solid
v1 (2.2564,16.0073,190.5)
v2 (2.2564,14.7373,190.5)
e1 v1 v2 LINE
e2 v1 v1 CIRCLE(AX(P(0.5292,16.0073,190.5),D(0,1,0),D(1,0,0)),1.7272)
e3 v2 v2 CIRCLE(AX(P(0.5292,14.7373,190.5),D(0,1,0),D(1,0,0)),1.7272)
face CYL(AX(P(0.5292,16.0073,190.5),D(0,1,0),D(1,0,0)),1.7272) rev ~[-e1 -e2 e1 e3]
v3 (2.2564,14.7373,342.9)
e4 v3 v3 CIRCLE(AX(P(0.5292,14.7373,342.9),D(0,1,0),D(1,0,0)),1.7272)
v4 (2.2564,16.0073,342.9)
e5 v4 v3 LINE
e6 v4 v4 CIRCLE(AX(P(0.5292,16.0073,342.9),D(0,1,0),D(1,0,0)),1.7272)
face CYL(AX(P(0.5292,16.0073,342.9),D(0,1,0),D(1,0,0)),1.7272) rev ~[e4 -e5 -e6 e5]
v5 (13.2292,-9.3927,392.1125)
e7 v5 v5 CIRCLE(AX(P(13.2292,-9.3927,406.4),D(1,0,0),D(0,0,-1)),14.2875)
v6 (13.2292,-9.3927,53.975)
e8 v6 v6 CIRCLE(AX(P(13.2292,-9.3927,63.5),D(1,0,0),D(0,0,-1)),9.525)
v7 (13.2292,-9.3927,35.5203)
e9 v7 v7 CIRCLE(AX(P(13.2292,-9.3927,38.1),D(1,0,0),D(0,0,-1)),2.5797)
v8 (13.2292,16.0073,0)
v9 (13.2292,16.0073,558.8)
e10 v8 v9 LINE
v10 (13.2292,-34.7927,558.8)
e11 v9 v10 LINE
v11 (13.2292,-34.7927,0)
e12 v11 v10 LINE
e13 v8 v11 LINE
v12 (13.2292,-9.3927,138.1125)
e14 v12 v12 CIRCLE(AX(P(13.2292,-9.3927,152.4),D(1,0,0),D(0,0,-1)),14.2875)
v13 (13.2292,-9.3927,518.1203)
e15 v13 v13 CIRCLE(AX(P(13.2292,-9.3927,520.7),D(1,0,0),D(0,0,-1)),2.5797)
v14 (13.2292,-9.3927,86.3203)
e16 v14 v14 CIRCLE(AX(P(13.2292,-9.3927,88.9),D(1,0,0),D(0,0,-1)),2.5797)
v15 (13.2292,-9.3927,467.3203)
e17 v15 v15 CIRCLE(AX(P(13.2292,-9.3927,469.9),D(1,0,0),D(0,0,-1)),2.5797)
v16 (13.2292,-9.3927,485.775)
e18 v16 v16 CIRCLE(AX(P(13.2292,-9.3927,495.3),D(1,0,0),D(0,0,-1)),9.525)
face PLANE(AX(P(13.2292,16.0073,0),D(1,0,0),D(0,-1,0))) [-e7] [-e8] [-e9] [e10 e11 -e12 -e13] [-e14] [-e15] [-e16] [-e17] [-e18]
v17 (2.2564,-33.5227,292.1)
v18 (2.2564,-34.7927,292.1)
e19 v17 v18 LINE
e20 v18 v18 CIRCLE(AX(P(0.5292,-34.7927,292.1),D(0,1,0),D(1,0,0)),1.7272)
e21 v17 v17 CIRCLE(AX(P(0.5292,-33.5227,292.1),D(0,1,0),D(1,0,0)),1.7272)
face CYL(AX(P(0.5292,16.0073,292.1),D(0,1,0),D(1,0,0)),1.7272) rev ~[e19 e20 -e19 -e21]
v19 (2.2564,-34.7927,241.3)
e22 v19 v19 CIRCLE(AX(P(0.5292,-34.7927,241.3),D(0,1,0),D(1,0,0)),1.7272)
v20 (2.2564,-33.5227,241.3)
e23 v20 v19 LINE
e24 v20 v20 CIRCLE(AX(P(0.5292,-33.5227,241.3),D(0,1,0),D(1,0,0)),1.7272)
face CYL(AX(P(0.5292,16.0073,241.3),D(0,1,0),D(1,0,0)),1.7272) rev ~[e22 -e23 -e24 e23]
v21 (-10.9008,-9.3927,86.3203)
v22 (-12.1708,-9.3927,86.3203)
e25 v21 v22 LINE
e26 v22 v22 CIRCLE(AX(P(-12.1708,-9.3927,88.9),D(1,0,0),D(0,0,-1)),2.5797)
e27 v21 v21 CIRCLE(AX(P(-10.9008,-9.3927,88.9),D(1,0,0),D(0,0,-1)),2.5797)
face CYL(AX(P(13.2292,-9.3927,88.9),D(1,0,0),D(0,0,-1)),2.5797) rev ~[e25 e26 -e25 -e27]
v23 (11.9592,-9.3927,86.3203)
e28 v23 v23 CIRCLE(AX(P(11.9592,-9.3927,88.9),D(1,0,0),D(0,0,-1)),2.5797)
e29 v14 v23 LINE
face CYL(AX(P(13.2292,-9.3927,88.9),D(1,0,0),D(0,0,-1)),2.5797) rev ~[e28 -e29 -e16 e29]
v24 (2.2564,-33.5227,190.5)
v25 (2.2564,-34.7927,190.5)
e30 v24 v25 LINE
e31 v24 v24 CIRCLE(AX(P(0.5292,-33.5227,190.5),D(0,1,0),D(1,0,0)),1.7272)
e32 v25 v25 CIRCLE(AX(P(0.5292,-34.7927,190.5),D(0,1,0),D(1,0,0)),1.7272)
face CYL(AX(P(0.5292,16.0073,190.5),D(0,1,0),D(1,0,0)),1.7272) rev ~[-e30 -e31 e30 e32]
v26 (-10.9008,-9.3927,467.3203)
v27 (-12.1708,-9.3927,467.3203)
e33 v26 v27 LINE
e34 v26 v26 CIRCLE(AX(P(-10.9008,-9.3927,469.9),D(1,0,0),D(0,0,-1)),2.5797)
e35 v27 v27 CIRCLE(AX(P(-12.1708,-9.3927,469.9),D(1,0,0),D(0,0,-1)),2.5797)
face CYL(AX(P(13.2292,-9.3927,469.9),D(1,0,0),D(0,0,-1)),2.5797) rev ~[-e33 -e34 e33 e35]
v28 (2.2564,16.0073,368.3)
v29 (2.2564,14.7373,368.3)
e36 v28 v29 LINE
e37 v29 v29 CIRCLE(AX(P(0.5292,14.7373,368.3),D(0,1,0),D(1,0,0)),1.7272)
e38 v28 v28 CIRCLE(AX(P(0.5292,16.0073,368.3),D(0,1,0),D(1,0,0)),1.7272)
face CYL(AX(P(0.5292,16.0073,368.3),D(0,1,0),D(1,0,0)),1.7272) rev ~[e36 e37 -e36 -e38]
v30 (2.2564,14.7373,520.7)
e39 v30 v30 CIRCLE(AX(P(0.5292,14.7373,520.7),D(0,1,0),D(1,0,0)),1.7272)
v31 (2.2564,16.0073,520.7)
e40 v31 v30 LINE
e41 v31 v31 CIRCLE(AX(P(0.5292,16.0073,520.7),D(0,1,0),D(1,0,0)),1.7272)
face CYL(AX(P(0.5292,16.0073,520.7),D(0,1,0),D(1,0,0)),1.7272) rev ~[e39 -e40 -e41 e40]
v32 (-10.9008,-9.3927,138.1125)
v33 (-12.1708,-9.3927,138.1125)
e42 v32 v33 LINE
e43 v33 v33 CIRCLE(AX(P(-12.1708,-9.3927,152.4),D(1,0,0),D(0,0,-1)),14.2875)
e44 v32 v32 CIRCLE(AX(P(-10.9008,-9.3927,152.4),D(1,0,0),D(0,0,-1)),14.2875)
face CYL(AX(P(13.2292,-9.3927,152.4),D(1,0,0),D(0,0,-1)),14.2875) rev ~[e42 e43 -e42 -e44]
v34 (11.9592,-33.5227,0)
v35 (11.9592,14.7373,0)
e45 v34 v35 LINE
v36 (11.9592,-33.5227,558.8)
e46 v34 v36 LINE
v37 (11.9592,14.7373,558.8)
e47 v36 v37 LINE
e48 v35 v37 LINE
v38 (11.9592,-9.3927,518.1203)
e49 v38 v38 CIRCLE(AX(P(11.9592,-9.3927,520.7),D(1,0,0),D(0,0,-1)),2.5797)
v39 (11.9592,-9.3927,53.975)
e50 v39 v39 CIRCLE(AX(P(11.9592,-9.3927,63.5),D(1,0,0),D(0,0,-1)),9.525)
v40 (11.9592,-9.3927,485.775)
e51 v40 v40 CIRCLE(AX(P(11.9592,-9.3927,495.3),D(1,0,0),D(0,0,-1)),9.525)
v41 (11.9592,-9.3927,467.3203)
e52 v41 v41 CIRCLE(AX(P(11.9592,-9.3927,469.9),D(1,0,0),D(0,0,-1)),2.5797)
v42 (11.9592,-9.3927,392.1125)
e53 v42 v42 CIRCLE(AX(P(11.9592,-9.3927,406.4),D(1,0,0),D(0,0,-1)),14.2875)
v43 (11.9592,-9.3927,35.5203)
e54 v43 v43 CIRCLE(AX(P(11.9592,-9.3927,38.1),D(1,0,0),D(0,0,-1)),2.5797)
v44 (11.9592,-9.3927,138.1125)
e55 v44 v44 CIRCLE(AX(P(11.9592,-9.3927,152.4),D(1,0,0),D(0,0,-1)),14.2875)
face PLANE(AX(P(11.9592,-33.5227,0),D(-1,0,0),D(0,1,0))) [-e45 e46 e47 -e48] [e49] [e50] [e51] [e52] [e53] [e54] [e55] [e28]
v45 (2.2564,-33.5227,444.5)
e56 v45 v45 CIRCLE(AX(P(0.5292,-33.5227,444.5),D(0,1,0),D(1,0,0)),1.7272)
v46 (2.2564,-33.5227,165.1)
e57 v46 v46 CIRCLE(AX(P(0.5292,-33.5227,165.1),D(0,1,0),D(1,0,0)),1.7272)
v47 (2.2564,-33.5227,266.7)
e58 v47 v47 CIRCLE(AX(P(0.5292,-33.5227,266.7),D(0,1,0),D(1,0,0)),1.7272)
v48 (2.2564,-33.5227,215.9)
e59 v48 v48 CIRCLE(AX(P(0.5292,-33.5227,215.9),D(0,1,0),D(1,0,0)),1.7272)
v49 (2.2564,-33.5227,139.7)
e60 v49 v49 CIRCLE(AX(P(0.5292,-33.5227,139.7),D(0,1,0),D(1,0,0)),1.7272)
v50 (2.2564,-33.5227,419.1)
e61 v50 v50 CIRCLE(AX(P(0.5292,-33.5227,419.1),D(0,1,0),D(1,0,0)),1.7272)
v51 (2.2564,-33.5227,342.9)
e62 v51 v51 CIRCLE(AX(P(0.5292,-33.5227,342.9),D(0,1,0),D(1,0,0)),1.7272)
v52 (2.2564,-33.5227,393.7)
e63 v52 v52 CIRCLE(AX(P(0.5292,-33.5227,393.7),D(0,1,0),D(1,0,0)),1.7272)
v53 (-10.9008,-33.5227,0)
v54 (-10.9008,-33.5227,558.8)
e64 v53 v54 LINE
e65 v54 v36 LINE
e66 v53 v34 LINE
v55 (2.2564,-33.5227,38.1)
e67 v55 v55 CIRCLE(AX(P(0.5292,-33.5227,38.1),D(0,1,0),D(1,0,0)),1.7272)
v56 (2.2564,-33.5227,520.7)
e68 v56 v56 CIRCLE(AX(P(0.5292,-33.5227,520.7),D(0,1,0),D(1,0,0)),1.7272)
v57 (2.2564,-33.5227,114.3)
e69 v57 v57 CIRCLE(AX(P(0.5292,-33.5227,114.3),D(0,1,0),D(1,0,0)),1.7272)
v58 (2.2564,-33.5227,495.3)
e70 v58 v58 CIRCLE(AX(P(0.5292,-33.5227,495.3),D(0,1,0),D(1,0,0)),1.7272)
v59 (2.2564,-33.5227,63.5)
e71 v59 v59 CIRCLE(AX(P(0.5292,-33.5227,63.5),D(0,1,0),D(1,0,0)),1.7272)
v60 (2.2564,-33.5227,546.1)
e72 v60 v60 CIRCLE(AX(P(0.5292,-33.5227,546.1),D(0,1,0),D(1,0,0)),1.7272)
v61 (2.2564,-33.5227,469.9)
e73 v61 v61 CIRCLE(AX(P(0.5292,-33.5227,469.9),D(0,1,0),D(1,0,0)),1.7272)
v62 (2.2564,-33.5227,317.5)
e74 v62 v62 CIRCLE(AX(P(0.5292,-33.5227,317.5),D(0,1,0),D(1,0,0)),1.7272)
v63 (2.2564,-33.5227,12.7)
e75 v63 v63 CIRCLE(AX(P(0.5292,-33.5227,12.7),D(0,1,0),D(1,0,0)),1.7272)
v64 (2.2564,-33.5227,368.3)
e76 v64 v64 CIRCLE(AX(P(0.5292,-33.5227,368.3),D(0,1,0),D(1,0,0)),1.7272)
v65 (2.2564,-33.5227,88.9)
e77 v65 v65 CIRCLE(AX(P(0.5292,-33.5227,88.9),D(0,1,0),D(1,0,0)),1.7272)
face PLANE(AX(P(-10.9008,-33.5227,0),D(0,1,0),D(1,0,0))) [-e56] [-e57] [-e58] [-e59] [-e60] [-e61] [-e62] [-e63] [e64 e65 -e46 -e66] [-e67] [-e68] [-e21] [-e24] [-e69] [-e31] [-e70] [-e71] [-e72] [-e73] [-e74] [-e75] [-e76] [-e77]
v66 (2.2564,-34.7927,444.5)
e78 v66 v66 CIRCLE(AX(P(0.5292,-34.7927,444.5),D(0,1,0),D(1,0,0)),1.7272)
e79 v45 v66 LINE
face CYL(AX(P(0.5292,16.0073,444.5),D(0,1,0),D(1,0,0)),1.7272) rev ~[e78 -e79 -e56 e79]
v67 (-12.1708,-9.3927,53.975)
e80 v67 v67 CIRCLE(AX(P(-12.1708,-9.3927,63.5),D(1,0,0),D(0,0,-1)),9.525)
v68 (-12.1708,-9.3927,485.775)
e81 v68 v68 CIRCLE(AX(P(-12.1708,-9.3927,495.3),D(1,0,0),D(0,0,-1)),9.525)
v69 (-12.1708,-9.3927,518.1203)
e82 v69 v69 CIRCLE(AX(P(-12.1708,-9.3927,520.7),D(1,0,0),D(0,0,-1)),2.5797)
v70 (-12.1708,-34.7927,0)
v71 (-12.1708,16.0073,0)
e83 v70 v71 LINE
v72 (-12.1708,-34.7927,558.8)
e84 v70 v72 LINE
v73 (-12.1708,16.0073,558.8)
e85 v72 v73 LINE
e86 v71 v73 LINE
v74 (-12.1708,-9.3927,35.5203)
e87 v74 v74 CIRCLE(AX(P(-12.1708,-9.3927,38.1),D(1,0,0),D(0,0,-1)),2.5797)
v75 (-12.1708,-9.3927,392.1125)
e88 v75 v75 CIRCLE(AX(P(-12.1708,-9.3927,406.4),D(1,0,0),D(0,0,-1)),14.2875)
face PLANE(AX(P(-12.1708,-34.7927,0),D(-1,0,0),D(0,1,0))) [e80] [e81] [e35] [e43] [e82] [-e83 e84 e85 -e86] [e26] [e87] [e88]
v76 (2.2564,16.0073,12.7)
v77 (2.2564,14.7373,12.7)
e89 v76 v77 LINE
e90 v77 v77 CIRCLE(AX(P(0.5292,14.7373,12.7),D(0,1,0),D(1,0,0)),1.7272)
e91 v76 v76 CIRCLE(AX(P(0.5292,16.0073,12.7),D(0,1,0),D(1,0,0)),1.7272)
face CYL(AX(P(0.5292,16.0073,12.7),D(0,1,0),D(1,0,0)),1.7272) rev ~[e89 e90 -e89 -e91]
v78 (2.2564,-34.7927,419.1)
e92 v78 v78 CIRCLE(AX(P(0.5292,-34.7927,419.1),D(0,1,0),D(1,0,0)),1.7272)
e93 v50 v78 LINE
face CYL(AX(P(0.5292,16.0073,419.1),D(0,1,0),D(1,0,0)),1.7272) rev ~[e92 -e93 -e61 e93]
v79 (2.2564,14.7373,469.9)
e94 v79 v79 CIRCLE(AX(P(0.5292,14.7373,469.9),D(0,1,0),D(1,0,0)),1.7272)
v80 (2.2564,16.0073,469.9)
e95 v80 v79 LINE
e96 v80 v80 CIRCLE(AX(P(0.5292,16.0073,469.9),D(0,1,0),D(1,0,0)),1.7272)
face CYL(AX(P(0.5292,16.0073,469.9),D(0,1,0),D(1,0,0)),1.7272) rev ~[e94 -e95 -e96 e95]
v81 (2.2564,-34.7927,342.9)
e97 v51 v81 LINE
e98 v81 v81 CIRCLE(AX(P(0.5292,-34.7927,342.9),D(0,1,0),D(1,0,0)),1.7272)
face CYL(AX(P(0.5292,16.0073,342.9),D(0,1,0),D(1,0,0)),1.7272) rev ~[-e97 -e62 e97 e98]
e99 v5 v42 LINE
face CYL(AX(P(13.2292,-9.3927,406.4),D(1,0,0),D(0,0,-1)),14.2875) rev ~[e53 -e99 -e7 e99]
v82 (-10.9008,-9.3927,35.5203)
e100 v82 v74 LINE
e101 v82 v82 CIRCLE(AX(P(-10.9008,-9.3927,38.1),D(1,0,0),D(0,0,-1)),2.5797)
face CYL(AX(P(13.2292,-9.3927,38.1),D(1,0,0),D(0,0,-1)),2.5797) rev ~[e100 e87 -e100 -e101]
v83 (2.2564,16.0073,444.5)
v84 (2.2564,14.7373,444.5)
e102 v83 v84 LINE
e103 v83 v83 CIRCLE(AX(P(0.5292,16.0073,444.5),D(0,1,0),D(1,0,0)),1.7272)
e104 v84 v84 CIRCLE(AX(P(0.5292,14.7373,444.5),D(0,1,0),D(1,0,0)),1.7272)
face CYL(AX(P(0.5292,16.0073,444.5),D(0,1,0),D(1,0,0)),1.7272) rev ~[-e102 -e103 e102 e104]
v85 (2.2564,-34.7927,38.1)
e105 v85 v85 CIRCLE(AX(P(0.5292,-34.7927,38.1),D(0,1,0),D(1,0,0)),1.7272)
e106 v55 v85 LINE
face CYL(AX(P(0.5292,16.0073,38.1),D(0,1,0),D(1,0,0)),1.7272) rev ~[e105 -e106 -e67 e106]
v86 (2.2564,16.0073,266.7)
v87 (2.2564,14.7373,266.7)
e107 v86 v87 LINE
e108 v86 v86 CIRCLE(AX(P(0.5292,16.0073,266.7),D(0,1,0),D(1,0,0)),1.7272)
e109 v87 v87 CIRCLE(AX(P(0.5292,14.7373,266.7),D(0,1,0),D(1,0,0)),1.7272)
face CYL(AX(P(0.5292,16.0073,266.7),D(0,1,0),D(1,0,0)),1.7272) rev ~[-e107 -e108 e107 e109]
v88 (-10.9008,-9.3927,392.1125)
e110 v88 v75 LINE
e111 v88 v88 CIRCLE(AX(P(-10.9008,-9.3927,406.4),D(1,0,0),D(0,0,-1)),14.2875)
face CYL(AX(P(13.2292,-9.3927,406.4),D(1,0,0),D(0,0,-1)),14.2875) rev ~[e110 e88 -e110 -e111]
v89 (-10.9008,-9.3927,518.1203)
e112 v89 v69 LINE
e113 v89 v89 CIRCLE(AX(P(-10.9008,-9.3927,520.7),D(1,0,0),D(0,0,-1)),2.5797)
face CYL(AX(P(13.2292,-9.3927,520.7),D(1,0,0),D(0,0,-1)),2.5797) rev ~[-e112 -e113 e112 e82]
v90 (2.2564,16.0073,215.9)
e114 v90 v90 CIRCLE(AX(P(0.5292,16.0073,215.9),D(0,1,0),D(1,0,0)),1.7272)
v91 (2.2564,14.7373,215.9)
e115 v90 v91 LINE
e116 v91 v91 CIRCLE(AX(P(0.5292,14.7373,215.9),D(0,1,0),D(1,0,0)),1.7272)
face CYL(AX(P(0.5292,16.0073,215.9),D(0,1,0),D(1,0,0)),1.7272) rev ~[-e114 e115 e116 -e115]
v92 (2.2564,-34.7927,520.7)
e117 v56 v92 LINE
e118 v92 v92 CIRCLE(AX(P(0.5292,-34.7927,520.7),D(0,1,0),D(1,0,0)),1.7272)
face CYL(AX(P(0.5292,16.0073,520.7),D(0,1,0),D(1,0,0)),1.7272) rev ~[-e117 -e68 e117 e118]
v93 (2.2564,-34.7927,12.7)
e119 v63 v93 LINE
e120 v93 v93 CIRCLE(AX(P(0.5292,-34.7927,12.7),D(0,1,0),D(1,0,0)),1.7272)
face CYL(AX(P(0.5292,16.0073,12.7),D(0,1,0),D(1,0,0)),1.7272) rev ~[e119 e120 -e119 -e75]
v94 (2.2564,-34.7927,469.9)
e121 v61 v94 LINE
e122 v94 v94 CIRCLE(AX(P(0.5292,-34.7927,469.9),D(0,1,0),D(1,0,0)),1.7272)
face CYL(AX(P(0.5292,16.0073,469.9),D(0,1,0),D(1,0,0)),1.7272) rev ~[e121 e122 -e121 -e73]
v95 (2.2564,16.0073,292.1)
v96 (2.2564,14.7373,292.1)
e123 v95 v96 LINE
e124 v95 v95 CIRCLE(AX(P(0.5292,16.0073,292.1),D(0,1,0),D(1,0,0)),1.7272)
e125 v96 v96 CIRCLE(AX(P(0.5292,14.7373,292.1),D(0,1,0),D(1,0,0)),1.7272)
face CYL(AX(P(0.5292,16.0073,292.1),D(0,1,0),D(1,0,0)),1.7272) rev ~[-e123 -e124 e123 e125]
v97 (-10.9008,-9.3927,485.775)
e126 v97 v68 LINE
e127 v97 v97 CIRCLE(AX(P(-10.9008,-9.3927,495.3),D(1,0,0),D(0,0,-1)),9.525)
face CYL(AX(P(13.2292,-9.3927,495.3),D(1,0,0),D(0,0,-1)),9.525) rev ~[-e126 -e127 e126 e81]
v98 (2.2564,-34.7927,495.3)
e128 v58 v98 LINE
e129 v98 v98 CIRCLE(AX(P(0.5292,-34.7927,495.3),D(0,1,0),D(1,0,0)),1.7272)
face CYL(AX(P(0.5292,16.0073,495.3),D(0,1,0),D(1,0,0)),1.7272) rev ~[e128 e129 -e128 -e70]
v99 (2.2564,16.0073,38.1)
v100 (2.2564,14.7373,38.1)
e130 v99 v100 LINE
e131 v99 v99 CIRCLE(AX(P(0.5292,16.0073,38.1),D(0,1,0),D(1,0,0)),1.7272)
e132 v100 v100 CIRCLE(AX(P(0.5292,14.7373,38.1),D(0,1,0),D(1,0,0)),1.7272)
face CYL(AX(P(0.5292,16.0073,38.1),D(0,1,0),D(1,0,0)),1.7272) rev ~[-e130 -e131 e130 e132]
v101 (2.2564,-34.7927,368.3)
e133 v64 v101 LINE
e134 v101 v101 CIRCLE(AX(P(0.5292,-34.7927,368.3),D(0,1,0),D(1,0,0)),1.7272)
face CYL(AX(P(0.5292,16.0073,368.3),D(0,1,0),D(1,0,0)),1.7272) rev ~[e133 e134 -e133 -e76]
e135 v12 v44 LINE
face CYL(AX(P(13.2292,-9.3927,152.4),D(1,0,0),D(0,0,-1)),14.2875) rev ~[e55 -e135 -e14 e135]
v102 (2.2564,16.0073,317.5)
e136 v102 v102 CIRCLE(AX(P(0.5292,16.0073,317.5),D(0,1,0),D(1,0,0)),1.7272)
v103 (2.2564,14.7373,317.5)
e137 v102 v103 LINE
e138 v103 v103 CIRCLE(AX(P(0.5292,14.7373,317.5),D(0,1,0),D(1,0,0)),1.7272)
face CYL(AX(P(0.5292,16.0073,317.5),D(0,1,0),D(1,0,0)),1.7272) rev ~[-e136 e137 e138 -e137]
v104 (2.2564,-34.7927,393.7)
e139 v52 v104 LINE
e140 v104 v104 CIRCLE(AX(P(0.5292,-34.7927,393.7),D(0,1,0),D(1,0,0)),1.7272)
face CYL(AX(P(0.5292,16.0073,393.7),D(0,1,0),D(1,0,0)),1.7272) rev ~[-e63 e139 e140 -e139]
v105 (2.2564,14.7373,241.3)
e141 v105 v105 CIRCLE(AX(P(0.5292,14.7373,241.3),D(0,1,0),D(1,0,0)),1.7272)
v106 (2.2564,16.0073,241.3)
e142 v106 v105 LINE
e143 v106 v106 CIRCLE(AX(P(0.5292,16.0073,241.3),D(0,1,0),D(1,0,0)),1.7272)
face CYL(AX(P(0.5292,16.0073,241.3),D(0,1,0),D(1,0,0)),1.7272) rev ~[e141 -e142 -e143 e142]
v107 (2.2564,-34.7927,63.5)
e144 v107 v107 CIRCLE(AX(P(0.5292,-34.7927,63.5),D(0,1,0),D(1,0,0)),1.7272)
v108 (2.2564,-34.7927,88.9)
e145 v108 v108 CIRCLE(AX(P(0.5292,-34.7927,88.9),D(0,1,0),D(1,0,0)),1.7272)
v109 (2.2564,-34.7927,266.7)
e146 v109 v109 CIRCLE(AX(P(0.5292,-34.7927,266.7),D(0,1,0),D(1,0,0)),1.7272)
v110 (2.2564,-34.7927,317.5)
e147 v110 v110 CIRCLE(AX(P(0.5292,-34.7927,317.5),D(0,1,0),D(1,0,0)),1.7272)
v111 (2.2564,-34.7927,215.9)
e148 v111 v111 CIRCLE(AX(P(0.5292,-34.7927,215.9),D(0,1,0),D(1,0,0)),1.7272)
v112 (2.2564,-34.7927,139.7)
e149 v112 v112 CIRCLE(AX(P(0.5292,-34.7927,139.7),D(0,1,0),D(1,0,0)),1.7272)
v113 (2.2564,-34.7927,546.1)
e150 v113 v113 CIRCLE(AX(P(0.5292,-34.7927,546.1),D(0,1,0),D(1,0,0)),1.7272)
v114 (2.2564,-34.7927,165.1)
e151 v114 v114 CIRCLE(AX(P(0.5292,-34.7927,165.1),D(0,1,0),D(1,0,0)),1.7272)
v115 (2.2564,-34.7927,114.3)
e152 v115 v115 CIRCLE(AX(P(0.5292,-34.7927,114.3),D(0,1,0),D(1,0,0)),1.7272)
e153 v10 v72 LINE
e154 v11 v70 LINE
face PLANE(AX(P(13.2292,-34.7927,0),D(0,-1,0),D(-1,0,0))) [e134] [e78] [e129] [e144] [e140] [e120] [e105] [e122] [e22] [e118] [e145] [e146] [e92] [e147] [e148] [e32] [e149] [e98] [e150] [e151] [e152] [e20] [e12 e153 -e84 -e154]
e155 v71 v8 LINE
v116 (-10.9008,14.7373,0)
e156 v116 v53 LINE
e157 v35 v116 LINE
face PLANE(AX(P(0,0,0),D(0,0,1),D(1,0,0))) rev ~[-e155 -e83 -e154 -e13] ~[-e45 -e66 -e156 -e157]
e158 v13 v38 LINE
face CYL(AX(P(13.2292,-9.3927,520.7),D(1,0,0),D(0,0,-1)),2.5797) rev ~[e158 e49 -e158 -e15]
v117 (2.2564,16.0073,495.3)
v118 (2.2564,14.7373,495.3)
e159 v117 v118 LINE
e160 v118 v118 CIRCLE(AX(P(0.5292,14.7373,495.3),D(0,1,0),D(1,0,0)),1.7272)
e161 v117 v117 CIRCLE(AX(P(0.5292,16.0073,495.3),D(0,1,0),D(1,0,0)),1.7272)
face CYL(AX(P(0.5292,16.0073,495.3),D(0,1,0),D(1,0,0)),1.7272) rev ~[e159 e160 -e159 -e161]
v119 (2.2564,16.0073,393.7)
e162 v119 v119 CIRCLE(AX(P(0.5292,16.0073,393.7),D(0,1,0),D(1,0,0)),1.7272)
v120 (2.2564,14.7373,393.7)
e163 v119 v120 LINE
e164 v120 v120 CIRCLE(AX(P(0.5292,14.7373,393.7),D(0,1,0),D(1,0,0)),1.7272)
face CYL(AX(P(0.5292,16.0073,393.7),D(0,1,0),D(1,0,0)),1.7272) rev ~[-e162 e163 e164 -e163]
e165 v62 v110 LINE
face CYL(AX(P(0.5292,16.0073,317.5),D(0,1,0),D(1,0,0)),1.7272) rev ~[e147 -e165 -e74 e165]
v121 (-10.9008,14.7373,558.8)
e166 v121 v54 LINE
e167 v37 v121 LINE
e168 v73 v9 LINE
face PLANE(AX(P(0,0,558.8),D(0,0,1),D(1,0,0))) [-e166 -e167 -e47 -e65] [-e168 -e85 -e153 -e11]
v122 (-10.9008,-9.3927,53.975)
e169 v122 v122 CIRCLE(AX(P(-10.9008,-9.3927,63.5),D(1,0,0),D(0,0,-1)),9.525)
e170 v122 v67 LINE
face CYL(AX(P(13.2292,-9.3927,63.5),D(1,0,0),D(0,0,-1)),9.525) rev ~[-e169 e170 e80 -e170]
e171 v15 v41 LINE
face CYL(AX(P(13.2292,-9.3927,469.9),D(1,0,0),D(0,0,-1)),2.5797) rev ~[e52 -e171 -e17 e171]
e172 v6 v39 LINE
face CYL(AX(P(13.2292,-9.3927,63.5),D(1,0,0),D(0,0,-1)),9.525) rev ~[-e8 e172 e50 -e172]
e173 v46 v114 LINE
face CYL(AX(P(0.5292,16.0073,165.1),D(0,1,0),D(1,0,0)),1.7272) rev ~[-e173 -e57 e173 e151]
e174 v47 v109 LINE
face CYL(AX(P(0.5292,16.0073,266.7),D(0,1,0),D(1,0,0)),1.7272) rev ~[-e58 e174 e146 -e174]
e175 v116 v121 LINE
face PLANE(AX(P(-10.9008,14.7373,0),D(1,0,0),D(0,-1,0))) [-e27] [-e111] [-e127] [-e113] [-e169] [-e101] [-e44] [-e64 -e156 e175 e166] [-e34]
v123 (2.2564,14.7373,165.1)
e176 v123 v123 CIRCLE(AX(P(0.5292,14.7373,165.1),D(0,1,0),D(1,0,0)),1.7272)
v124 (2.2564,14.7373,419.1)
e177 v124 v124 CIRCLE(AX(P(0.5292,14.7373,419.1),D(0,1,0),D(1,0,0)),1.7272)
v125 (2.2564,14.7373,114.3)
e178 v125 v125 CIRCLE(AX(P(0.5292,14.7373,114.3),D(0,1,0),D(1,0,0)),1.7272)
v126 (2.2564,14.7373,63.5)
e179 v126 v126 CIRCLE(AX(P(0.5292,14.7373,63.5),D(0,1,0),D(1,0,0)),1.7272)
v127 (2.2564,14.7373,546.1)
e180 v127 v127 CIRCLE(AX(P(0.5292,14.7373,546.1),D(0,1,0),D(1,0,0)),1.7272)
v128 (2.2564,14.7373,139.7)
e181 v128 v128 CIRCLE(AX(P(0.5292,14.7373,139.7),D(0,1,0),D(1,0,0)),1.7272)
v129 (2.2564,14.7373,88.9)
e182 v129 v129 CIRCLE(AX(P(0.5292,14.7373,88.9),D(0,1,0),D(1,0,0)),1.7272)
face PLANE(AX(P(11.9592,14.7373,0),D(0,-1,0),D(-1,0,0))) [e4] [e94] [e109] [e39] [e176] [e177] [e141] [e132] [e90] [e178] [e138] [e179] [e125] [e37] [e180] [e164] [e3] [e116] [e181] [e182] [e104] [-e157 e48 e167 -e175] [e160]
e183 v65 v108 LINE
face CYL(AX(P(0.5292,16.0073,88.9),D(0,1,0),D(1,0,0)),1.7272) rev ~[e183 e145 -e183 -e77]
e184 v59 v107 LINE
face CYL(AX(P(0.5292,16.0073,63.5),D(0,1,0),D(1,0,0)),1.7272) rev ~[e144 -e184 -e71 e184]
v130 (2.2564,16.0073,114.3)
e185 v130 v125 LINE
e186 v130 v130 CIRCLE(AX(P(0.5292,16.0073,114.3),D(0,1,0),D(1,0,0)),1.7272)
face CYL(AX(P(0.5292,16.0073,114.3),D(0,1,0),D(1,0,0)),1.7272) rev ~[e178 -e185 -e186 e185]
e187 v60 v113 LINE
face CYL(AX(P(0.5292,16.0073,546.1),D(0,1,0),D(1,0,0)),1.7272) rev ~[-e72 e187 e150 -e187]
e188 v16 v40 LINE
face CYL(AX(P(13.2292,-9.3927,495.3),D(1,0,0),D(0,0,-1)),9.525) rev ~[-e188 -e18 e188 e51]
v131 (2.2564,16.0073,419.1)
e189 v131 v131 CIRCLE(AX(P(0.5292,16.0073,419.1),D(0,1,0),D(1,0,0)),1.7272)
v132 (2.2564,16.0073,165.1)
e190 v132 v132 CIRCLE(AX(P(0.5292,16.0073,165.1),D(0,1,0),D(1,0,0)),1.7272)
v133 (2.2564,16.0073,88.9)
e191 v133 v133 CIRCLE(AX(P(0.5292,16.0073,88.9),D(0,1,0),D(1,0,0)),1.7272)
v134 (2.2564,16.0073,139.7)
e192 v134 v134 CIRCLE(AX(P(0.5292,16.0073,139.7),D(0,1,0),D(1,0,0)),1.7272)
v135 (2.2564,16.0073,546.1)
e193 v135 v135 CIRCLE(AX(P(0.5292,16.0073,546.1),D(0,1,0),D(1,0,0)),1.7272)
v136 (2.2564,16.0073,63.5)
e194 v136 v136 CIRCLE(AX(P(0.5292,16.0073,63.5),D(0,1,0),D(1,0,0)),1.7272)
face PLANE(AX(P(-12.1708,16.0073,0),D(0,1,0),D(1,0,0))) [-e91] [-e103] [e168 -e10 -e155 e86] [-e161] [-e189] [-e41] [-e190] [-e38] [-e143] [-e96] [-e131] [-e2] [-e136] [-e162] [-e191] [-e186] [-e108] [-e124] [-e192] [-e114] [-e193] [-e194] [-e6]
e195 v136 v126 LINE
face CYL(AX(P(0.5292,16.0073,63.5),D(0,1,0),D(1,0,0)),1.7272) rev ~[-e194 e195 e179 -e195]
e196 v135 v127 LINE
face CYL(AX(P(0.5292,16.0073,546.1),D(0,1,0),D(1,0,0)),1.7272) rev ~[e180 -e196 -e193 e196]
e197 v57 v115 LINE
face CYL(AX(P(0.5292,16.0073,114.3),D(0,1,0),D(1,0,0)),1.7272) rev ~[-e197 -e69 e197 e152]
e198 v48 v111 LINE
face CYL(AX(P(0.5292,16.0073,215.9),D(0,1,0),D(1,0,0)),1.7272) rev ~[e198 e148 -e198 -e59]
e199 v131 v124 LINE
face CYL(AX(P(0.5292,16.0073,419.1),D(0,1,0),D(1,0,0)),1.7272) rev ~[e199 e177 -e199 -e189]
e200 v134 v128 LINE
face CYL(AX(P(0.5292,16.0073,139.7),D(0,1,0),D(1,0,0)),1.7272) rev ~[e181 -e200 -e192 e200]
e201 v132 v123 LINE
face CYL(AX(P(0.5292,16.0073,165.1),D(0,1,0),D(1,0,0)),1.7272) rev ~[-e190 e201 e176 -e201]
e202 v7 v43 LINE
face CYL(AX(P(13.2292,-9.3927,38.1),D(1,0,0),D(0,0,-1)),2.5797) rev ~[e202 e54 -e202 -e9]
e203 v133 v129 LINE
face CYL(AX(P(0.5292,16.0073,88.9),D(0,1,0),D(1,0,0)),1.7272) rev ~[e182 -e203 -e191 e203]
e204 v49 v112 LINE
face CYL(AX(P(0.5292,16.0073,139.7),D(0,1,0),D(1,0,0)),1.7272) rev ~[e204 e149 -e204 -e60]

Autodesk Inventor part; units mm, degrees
ref_plane "YZ Plane" through (0, 0, 0) normal (1, 0, 0) x (0, 1, 0)
ref_plane "XZ Plane" through (0, 0, 0) normal (0, 1, 0) x (-1, 0, 0)
ref_plane "XY Plane" through (0, 0, 0) normal (0, 0, 1) x (1, 0, 0)
sketch "Sketch1" plane through (0, 0, 0) normal (0, 0, 1) x (1, 0, 0)
  line L0 (-12.1708, 16.0073) -> (13.2292, 16.0073)
  line L1 (13.2292, 16.0073) -> (13.2292, -34.7927)
  line L2 (13.2292, -34.7927) -> (-12.1708, -34.7927)
  line L3 (-12.1708, -34.7927) -> (-12.1708, 16.0073)
  line L4 (11.9592, 14.7373) -> (-10.9008, 14.7373)
  line L5 (-10.9008, 14.7373) -> (-10.9008, -33.5227)
  line L6 (-10.9008, -33.5227) -> (11.9592, -33.5227)
  line L7 (11.9592, -33.5227) -> (11.9592, 14.7373)
  point P0 (0, 0)
  dimension "d0" = 25.4
  dimension "d1" = 50.8
  dimension "d2" = 1.27
extrude "Extrusion1" add sketch "Sketch1" along normal blind 558.8
sketch "Sketch2" plane through (-12.1708, 16.0073, 0) normal (0, 1, 0) x (1, 0, 0)
  circle A0 centre (12.7, -12.7) radius 1.7272
  line L0 (25.4, 0) -> (0, 0) projected
  line L1 (0, 0) -> (0, -558.8) projected
  point P0 (12.1708, 0)
  dimension "d5" = 3.4544
  dimension "d6" = 12.7
  dimension "d7" = 12.7
extrude "Extrusion2" cut sketch "Sketch2" against normal through all
pattern_linear "Rectangular Pattern1" count 22 spacing 25.4 along (0, 0, 1) of "Extrusion2"
sketch "Sketch4" plane through (13.2292, -34.7927, 0) normal (1, 0, 0) x (0, 0, -1)
  circle A0 centre (-406.4, 25.4) radius 14.2875
  circle A1 centre (-152.4, 25.4) radius 14.2875
  circle A2 centre (-495.3, 25.4) radius 9.525
  circle A3 centre (-63.5, 25.4) radius 9.525
  line L0 (-495.3, 25.4) -> (-63.5, 25.4) construction
  line L1 (0, 50.8) -> (-558.8, 50.8) projected
  line L2 (0, 0) -> (-558.8, 0) projected
  line L3 (-279.4, 0) -> (-279.4, 50.8) construction
  line L4 (0, 0) -> (0, 50.8) projected
  line L5 (-558.8, 0) -> (-558.8, 50.8) projected
  point P0 (0, 34.7927)
  dimension "d15" = 28.575
  dimension "d16" = 25.4
  dimension "d17" = 254
  dimension "d18" = 279.4
  dimension "d19" = 127
  dimension "d20" = 88.9
  dimension "d22" = 88.9
  dimension "d23" = 19.05
  dimension "d24" = 558.8
extrude "Extrusion3" cut sketch "Sketch4" against normal through all contours A0 | A1 | A2 | A3
sketch "Sketch5" plane through (13.2292, -34.7927, 0) normal (1, 0, 0) x (0, 0, -1)
  circle A0 centre (-495.3, 25.4) radius 9.525 projected
  circle A1 centre (-63.5, 25.4) radius 9.525 projected
  circle A2 centre (-495.3, 25.4) radius 25.4 construction
  circle A3 centre (-63.5, 25.4) radius 25.4 construction
  circle A4 centre (-495.3, 25.4) radius 9.525 projected
  line L0 (-495.3, 25.4) -> (-63.5, 25.4) construction
  circle A5 centre (-469.9, 25.4) radius 2.5797
  circle A6 centre (-520.7, 25.4) radius 2.5797
  circle A7 centre (-88.9, 25.4) radius 2.5797
  circle A8 centre (-38.1, 25.4) radius 2.5797
  point P0 (0, 34.7927)
  dimension "d27" = 50.8
  dimension "d28" = 5.1594
extrude "Extrusion4" cut sketch "Sketch5" against normal through all contours A5 | A6 | A7 | A8
equation "\"d3\" = d13"
equation "\"d13\" = 558.8"
properties part number "VerseFrame 22in for Ball Suck"
